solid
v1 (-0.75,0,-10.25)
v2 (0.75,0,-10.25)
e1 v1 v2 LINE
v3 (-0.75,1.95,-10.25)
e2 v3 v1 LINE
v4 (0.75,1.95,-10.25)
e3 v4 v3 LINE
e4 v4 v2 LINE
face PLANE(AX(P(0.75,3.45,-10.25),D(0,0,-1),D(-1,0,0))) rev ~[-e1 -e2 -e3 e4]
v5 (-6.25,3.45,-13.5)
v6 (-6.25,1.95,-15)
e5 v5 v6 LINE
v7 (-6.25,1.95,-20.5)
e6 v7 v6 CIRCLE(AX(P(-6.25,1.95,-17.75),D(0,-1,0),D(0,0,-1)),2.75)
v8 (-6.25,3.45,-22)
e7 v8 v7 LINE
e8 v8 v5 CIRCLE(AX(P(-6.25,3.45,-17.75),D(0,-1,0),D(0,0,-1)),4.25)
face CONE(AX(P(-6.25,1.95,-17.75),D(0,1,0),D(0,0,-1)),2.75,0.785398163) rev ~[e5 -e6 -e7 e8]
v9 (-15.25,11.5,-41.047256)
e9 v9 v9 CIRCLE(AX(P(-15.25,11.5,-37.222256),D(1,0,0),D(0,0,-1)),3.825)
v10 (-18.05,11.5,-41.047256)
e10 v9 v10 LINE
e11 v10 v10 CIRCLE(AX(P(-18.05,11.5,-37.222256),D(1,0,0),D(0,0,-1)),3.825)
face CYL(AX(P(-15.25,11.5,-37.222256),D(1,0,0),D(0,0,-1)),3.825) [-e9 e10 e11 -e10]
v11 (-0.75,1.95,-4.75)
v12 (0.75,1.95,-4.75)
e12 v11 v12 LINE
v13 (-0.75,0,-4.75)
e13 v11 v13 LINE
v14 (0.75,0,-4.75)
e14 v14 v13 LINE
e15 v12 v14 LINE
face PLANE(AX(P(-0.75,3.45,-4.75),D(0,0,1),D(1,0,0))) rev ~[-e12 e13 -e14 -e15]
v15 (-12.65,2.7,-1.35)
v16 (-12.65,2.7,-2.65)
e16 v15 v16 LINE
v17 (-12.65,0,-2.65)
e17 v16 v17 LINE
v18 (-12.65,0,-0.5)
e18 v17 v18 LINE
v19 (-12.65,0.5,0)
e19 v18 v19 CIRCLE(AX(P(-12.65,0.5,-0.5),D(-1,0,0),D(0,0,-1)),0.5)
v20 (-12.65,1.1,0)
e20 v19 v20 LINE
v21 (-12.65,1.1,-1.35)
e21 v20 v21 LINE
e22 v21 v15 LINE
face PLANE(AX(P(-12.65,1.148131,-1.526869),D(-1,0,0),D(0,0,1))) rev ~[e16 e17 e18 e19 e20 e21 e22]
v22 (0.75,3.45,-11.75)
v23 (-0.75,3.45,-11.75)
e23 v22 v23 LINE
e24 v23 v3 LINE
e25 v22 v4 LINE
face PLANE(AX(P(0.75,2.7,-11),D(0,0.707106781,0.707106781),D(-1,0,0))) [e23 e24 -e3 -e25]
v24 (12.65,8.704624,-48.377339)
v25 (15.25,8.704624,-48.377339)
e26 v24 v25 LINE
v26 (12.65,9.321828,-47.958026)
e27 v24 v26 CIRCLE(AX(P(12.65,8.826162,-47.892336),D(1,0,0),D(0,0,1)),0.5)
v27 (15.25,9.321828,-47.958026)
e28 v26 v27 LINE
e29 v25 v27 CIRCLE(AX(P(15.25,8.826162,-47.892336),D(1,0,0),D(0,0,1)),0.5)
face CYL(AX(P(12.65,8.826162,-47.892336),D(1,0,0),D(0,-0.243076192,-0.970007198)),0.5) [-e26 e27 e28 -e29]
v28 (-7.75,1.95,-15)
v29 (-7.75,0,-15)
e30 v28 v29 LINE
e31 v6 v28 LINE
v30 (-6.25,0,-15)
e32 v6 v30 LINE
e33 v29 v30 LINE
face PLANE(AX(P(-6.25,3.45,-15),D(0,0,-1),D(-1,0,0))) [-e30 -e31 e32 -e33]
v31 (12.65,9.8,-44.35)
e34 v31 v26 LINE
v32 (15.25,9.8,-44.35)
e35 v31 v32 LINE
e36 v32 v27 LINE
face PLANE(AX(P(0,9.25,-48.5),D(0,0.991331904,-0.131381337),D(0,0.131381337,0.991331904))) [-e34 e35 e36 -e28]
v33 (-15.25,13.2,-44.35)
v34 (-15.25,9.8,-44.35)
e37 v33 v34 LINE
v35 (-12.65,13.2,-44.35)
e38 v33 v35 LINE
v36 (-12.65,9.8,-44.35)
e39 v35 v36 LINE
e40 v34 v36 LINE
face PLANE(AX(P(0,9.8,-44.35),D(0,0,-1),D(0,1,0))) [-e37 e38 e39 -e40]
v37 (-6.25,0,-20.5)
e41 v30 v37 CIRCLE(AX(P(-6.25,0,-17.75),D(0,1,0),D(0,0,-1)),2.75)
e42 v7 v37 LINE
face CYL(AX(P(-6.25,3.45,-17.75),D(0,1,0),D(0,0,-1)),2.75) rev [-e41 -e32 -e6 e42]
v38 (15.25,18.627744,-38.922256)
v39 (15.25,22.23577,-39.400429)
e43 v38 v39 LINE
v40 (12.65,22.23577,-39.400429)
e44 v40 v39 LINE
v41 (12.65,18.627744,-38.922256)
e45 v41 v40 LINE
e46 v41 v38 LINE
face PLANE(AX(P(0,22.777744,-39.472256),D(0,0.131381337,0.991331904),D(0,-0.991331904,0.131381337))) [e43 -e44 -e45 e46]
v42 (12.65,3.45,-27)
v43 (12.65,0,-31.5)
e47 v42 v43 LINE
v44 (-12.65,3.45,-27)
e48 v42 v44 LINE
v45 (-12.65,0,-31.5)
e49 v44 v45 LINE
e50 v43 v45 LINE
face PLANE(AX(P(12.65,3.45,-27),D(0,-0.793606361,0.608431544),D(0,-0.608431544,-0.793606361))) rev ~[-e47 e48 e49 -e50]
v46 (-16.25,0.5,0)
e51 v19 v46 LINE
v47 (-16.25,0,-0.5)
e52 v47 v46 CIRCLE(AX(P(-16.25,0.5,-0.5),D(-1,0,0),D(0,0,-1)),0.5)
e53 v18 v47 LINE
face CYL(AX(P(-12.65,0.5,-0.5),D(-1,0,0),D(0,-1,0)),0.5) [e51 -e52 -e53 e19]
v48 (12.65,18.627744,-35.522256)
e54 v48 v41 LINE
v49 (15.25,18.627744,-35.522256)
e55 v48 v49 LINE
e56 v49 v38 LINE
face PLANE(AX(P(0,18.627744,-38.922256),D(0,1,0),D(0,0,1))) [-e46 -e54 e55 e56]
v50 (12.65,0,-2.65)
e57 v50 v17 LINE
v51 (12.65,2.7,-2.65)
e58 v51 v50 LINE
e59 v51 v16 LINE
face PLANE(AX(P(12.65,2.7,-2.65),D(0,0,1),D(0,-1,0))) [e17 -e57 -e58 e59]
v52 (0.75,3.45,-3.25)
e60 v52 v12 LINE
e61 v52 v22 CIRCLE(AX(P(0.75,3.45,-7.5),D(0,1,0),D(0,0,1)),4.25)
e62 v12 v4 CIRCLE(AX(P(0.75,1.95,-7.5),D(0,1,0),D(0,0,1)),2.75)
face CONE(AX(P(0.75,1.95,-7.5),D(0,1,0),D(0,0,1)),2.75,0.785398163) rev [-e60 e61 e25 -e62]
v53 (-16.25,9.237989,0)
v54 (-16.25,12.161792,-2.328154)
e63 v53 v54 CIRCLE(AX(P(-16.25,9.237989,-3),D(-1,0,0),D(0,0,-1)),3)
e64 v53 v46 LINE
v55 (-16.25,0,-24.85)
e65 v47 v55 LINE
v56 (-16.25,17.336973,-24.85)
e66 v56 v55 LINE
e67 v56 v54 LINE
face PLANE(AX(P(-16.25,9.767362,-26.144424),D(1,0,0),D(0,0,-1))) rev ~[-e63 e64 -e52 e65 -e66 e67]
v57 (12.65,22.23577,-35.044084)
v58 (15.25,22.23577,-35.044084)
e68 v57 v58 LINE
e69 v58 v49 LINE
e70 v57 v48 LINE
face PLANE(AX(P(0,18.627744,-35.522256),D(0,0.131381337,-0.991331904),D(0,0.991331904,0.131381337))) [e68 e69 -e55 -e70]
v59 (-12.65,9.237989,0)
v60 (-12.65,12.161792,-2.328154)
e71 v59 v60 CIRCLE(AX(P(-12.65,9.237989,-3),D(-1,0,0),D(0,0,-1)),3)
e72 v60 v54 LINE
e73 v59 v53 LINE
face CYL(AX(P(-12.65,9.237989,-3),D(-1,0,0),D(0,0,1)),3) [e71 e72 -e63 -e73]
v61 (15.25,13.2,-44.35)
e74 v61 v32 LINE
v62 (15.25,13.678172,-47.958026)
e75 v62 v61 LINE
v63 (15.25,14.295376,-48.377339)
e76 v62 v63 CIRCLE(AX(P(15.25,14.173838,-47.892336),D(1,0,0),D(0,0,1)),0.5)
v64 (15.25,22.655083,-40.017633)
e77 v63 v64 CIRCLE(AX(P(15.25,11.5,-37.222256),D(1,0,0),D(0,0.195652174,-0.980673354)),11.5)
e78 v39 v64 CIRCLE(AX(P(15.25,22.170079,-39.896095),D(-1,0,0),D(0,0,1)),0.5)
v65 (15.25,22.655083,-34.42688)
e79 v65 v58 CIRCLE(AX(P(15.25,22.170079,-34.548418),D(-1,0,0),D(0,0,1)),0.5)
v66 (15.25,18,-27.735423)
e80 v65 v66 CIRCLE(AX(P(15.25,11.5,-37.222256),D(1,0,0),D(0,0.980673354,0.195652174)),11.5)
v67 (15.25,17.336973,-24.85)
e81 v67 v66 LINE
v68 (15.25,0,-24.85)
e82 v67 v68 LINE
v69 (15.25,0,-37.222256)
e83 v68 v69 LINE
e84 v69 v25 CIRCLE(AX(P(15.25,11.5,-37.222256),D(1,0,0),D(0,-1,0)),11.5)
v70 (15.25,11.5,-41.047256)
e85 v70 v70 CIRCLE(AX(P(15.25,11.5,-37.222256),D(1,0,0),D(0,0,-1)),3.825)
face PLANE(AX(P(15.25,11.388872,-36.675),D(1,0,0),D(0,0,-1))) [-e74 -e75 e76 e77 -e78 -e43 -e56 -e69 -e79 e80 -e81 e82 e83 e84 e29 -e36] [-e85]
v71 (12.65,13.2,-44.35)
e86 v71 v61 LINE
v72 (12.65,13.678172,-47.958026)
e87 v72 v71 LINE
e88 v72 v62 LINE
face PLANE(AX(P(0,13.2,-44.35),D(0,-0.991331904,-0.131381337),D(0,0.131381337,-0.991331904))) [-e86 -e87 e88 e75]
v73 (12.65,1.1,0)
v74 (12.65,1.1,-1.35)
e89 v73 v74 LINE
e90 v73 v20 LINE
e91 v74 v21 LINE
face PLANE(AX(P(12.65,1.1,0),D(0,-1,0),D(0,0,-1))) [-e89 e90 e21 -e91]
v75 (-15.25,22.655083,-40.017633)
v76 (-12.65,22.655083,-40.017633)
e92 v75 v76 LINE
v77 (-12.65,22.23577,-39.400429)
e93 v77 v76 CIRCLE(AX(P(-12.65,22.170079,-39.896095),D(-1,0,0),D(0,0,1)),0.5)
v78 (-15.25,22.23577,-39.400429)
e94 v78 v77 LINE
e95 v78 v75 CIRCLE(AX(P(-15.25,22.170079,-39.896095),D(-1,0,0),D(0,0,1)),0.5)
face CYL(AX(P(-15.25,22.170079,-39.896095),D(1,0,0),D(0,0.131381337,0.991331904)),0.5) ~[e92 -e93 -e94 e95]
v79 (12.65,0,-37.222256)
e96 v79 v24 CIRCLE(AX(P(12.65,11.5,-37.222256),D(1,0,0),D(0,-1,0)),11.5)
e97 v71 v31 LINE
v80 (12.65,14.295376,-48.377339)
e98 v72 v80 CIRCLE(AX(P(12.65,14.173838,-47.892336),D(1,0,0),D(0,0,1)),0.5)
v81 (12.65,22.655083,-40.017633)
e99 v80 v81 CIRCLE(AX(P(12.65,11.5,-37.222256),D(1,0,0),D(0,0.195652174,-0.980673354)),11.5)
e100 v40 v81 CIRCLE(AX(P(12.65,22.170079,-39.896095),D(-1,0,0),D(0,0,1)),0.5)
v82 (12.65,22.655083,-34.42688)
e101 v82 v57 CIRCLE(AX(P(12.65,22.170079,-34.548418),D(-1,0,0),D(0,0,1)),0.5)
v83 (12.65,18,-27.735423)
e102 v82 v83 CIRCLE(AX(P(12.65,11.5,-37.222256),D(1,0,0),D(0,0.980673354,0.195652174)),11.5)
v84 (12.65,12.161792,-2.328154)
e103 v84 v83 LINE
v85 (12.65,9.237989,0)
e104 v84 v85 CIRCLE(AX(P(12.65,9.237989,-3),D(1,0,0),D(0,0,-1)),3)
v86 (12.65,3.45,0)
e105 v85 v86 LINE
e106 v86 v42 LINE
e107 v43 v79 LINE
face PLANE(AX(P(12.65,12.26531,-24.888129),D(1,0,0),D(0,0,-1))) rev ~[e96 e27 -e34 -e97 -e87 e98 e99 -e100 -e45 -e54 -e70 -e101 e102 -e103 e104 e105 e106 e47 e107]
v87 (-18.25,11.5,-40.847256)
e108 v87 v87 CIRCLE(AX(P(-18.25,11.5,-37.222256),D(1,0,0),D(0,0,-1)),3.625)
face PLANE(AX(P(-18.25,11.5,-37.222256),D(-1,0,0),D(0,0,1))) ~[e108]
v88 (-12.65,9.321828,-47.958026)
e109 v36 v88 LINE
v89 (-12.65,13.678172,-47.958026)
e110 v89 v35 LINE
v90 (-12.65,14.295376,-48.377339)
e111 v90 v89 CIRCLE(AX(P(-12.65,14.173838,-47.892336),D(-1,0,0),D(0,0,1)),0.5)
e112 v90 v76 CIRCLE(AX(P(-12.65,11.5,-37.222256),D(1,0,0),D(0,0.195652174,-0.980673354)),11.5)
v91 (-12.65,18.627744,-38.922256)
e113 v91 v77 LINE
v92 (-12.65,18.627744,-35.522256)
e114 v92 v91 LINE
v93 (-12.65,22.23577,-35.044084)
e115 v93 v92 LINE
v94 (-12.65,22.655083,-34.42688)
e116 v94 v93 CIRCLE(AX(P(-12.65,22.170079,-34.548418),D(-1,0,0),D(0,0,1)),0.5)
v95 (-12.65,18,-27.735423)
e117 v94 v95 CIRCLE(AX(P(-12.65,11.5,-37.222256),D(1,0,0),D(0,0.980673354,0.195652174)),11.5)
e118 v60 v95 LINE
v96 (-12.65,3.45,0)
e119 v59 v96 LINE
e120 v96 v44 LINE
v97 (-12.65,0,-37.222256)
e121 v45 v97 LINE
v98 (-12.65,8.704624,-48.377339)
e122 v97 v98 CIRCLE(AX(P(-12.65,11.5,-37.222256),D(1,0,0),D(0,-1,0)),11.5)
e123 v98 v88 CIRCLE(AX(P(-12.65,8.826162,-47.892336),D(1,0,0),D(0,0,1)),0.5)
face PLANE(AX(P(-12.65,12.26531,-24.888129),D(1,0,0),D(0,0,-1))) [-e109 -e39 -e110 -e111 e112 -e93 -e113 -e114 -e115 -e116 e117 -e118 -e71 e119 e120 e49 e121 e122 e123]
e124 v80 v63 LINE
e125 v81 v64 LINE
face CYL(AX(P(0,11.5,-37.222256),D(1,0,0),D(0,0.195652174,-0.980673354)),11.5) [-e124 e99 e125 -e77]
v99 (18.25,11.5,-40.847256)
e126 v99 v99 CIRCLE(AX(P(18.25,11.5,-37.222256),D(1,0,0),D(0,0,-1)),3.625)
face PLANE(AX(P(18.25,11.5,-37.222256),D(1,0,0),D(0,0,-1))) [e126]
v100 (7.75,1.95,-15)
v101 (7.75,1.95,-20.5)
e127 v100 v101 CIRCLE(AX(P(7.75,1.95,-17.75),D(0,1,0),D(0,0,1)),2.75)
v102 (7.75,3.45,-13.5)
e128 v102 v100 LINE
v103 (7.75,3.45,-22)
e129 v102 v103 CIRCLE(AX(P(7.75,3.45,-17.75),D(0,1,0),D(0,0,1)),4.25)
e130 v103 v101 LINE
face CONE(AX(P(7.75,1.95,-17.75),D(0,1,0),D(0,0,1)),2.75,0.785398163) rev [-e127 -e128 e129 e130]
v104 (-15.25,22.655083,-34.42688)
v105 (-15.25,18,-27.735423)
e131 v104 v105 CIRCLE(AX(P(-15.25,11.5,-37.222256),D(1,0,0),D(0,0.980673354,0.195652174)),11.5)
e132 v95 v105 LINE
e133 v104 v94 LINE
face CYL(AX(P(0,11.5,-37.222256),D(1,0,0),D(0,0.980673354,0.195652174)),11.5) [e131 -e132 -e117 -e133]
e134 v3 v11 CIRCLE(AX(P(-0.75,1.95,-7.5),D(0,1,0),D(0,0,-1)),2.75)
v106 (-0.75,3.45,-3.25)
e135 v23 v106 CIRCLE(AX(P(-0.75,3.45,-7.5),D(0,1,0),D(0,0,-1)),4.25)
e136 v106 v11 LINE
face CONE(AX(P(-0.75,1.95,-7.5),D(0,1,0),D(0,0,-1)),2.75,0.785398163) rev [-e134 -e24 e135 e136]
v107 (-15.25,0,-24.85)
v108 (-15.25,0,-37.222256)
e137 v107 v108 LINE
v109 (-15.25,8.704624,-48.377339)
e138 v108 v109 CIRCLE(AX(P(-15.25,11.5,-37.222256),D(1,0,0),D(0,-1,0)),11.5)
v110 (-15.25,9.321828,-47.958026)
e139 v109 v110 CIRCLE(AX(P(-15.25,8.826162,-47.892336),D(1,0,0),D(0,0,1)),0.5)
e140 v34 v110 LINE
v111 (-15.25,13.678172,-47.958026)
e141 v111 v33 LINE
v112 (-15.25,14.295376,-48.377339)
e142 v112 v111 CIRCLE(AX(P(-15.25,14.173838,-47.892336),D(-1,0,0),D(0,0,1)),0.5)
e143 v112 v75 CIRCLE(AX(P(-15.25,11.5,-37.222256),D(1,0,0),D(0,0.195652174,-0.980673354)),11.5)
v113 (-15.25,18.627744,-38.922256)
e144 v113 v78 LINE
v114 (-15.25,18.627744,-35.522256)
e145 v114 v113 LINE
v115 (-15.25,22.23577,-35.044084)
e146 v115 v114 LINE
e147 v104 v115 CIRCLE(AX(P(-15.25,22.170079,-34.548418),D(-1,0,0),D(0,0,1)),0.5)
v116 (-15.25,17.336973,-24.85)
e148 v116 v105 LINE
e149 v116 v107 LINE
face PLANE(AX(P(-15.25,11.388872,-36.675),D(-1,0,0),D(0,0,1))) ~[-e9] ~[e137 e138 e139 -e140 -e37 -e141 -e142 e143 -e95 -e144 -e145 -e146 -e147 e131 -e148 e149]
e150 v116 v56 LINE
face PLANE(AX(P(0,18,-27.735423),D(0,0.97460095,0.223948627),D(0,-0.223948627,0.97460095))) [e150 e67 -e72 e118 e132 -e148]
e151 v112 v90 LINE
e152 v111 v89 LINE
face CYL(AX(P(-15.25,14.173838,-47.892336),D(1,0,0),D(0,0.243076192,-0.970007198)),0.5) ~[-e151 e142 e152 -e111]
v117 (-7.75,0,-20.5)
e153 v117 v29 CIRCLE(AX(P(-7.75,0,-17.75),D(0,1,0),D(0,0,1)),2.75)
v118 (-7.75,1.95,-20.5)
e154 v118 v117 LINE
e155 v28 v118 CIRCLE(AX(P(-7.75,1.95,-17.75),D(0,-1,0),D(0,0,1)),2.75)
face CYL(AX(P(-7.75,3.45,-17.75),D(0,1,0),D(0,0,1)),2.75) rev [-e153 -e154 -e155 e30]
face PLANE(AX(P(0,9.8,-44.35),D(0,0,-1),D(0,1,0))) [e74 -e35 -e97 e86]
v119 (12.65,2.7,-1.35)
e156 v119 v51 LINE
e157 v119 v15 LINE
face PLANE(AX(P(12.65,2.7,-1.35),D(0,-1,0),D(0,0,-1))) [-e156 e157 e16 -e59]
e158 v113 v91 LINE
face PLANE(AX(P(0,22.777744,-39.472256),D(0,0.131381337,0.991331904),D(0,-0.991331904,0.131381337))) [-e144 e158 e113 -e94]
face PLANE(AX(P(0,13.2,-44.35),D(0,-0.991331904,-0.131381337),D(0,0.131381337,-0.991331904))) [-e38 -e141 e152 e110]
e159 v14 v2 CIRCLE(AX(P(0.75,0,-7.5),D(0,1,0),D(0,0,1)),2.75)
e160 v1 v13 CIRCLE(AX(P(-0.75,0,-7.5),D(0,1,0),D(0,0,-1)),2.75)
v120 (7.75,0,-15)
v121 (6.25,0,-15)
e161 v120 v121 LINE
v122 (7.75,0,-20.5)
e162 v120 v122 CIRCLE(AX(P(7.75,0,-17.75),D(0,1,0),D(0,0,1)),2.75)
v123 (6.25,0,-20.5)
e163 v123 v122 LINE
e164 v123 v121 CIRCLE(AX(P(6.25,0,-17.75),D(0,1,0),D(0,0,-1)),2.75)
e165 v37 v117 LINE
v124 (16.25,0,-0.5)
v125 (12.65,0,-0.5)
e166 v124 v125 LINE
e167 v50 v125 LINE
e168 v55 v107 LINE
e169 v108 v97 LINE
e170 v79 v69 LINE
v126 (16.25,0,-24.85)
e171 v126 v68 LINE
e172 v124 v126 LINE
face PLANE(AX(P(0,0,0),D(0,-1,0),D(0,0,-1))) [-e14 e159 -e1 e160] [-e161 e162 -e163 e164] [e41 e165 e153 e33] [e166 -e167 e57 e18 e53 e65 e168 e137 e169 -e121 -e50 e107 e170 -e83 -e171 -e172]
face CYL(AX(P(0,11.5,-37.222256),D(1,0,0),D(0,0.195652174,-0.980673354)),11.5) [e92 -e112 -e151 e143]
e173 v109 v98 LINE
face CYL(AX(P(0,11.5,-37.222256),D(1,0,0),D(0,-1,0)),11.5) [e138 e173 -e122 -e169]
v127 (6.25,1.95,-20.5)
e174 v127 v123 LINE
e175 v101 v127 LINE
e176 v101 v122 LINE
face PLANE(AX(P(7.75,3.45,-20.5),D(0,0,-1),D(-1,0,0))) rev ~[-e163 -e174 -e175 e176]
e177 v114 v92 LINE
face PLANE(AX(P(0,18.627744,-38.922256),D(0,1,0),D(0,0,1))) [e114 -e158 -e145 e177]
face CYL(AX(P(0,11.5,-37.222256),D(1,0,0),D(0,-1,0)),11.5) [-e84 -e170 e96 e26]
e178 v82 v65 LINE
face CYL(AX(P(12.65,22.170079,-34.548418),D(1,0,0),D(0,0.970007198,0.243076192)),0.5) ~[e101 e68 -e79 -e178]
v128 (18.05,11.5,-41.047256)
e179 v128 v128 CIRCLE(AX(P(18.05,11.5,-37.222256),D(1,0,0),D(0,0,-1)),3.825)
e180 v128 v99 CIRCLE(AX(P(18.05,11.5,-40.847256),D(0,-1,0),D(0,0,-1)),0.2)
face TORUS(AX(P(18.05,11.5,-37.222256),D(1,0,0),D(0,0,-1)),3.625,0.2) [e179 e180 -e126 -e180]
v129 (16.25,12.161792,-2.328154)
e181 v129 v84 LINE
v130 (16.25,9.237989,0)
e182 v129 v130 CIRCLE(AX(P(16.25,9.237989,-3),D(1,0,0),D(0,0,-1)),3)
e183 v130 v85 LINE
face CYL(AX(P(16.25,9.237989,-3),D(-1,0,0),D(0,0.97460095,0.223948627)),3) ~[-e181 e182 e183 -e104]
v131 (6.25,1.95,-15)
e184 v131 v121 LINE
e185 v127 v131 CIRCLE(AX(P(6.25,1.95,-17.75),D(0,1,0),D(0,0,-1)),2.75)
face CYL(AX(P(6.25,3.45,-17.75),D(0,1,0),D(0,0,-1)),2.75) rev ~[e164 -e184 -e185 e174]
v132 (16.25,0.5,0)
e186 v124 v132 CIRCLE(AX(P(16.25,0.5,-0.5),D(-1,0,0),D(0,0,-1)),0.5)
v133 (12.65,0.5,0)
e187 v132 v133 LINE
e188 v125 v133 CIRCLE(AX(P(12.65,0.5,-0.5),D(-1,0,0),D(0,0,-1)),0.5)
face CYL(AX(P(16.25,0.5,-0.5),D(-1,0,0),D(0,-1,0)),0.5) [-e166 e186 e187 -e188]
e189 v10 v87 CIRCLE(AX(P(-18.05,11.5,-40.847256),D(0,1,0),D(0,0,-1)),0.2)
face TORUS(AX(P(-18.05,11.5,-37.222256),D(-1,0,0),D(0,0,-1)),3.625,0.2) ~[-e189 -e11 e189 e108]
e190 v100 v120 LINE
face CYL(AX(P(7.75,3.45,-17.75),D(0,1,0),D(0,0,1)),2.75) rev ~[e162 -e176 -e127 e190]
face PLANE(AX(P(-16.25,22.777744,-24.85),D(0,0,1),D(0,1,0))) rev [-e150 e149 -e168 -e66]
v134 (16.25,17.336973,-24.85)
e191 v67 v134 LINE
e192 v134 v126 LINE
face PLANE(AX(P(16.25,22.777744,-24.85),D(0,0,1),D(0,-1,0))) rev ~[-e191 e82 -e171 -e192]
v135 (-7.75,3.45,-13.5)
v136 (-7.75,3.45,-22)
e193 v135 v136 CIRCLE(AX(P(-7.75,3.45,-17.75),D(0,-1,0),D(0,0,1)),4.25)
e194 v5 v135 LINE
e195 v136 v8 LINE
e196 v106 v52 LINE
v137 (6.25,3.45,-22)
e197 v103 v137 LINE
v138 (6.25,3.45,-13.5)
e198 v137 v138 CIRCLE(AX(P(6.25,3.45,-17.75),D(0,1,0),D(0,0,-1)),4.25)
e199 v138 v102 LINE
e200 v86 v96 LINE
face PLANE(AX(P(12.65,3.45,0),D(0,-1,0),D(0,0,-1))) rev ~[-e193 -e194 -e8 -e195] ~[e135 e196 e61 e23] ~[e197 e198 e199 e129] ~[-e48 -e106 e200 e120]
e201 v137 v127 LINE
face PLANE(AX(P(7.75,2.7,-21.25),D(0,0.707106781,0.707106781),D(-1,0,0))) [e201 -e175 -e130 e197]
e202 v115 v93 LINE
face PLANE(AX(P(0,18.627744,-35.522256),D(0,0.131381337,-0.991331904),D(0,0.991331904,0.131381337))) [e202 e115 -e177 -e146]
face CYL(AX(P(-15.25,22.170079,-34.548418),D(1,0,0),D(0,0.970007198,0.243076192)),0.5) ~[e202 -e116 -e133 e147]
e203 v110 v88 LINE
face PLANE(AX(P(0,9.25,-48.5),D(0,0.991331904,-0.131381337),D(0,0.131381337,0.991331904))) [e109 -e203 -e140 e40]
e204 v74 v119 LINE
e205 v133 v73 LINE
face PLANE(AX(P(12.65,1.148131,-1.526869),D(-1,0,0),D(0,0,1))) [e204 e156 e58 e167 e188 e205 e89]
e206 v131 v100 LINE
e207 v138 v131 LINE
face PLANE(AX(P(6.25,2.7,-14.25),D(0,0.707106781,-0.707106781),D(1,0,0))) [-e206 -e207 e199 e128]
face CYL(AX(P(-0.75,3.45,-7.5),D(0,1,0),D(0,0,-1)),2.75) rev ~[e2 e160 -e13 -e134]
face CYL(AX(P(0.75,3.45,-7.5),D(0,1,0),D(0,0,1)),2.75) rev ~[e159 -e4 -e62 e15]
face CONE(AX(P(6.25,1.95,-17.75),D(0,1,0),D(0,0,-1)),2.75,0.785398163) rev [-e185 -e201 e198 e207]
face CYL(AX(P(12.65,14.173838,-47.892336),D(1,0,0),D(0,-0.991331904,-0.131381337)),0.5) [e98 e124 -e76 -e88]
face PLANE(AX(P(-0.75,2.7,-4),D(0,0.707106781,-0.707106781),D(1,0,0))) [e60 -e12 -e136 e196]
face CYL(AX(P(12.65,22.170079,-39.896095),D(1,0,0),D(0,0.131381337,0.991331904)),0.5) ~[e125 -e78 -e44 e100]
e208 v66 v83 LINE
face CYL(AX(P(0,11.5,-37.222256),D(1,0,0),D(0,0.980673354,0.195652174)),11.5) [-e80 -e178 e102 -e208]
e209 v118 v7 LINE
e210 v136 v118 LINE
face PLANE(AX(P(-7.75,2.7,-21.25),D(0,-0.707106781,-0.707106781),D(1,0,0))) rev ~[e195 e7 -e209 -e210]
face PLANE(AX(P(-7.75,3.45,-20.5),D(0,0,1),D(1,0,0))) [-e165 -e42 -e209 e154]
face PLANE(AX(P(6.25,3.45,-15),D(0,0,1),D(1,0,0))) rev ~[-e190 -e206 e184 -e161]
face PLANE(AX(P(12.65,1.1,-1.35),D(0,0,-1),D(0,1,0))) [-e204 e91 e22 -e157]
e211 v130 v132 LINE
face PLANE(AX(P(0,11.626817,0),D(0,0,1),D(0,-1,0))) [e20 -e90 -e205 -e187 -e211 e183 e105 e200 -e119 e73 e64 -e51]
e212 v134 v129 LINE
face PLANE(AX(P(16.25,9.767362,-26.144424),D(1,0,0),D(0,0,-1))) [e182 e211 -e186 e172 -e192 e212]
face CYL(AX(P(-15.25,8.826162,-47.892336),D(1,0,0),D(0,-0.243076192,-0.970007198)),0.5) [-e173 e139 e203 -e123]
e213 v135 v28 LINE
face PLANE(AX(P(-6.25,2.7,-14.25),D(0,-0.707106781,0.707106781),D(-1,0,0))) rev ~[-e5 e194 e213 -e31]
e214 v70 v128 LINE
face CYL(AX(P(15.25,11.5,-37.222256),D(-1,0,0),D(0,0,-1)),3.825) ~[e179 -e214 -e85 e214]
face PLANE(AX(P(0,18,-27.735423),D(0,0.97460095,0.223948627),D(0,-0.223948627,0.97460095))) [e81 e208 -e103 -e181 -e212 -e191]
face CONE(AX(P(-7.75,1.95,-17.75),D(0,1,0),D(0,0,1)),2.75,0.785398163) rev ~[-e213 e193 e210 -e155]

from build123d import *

# Parameters (mm, degrees)
BOSS_EXTRUDE1_DEPTH = 16.25
CUT_EXTRUDE1_DEPTH  = 1
SKETCH3_R           = 3.825
BOSS_EXTRUDE2_DEPTH = 3
CUT_EXTRUDE2_DEPTH  = 25.3
FILLET1_R           = 0.2
FILLET2_R           = 0.5
FILLET3_R           = 3
CUT_EXTRUDE3_DEPTH  = 4.45
CHAMFER1_SIZE       = 1.5


with BuildPart() as part:
    # Sketch1 → Boss-Extrude1 (new body, symmetric)
    with BuildSketch(Plane(origin=(0, 0, 0), x_dir=(0, 0, -1), z_dir=(1, 0, 0))):
        with BuildLine():
            Line((0, 0), (37.222256431, 0))
            ThreePointArc((37.222256431, 0), (44.515232504, 2.608290378), (48.5, 9.25))
            Line((48.5, 9.25), (44.35, 9.8))
            Line((44.35, 9.8), (44.35, 13.2))
            Line((44.35, 13.2), (48.5, 13.75))
            ThreePointArc((48.5, 13.75), (45.353984415, 19.631727984), (39.472256431, 22.777743569))
            Line((39.472256431, 22.777743569), (38.922256431, 18.627743569))
            Line((38.922256431, 18.627743569), (35.522256431, 18.627743569))
            Line((35.522256431, 18.627743569), (34.972256431, 22.777743569))
            ThreePointArc((34.972256431, 22.777743569), (30.886246606, 21.097133921), (27.735423451, 18))
            Line((27.735423451, 18), (0, 11.626817203))
            Line((0, 11.626817203), (0, 0))
        make_face()
    extrude(amount=BOSS_EXTRUDE1_DEPTH, both=True)

    # Sketch2 → Cut-Extrude1 (cut)
    with BuildSketch(Plane(origin=(16.25, 0, 0), x_dir=(0, 0, -1), z_dir=(1, 0, 0))):
        Polygon((24.85, 17.336973126), (24.85, 0), (48.5, 0), (48.5, 22.777743569), (24.85, 22.777743569), align=None)
    cut_extrude1 = extrude(amount=-CUT_EXTRUDE1_DEPTH, mode=Mode.SUBTRACT)

    # Sketch3 → Boss-Extrude2 (add)
    with BuildSketch(Plane(origin=(15.25, 0, 0), x_dir=(0, 0, -1), z_dir=(1, 0, 0))):
        with Locations((37.222256431, 11.5)):
            Circle(SKETCH3_R)
    boss_extrude2 = extrude(amount=BOSS_EXTRUDE2_DEPTH)

    # Mirror1: Cut-Extrude1, Boss-Extrude2 across plane
    add(cut_extrude1.mirror(Plane(origin=(0, 0, 0), x_dir=(0, 0, 1), z_dir=(1, 0, 0))), mode=Mode.SUBTRACT)
    add(boss_extrude2.mirror(Plane(origin=(0, 0, 0), x_dir=(0, 0, 1), z_dir=(1, 0, 0))))

    # Sketch4 → Cut-Extrude2 (cut)
    with BuildSketch(Plane(origin=(12.65, 0, 0), x_dir=(0, 0, -1), z_dir=(1, 0, 0))):
        Polygon((0, 1.1), (1.35, 1.1), (1.35, 2.7), (2.65, 2.7), (2.65, 0), (0, 0), align=None)
        Polygon((0, 3.45), (27, 3.45), (31.5, 0), (48.5, 0), (48.5, 22.777743569), (0, 22.777743569), align=None)
    extrude(amount=-CUT_EXTRUDE2_DEPTH, mode=Mode.SUBTRACT)

    # Fillet1
    fillet1_edges = [part.edges().sort_by_distance(p)[0] for p in [
        (-18.25, 11.5, -33.397256431),
        (18.25, 11.5, -33.397256431),
    ]]
    fillet(fillet1_edges, radius=FILLET1_R)

    # Fillet2
    fillet2_edges = [part.edges().sort_by_distance(p)[0] for p in [
        (-14.45, 0, 0),
        (-13.95, 22.777743569, -34.972256431),
        (-13.95, 22.777743569, -39.472256431),
        (-13.95, 13.75, -48.5),
        (-13.95, 9.25, -48.5),
        (14.45, 0, 0),
        (13.95, 22.777743569, -34.972256431),
        (13.95, 22.777743569, -39.472256431),
        (13.95, 13.75, -48.5),
        (13.95, 9.25, -48.5),
    ]]
    fillet(fillet2_edges, radius=FILLET2_R)

    # Fillet3
    fillet3_edges = [part.edges().sort_by_distance(p)[0] for p in [
        (-14.45, 11.626817203, 0),
        (14.45, 11.626817203, 0),
    ]]
    fillet(fillet3_edges, radius=FILLET3_R)

    # Sketch5 → Cut-Extrude3 (cut, through all)
    with BuildSketch(Plane(origin=(0, 3.45, 0), x_dir=(1, 0, 0), z_dir=(0, 1, 0))):
        with BuildLine():
            Line((-0.75, 4.75), (0.75, 4.75))
            ThreePointArc((0.75, 4.75), (3.5, 7.5), (0.75, 10.25))
            Line((0.75, 10.25), (-0.75, 10.25))
            ThreePointArc((-0.75, 10.25), (-3.5, 7.5), (-0.75, 4.75))
        make_face()
        with BuildLine():
            Line((7.75, 20.5), (6.25, 20.5))
            ThreePointArc((6.25, 20.5), (3.5, 17.75), (6.25, 15))
            Line((6.25, 15), (7.75, 15))
            ThreePointArc((7.75, 15), (10.5, 17.75), (7.75, 20.5))
        make_face()
        with BuildLine():
            Line((-7.75, 20.5), (-6.25, 20.5))
            ThreePointArc((-6.25, 20.5), (-3.5, 17.75), (-6.25, 15))
            Line((-6.25, 15), (-7.75, 15))
            ThreePointArc((-7.75, 15), (-10.5, 17.75), (-7.75, 20.5))
        make_face()
    extrude(amount=-CUT_EXTRUDE3_DEPTH, mode=Mode.SUBTRACT)

    # Chamfer1
    chamfer1_edges = [part.edges().sort_by_distance(p)[0] for p in [
        (-3.5, 3.45, -7.5),
        (0, 3.45, -4.75),
        (3.5, 3.45, -7.5),
        (0, 3.45, -10.25),
        (10.5, 3.45, -17.75),
        (7, 3.45, -20.5),
        (3.5, 3.45, -17.75),
        (7, 3.45, -15),
        (-10.5, 3.45, -17.75),
        (-7, 3.45, -15),
        (-3.5, 3.45, -17.75),
        (-7, 3.45, -20.5),
    ]]
    chamfer(chamfer1_edges, length=CHAMFER1_SIZE)


solid = part.part
